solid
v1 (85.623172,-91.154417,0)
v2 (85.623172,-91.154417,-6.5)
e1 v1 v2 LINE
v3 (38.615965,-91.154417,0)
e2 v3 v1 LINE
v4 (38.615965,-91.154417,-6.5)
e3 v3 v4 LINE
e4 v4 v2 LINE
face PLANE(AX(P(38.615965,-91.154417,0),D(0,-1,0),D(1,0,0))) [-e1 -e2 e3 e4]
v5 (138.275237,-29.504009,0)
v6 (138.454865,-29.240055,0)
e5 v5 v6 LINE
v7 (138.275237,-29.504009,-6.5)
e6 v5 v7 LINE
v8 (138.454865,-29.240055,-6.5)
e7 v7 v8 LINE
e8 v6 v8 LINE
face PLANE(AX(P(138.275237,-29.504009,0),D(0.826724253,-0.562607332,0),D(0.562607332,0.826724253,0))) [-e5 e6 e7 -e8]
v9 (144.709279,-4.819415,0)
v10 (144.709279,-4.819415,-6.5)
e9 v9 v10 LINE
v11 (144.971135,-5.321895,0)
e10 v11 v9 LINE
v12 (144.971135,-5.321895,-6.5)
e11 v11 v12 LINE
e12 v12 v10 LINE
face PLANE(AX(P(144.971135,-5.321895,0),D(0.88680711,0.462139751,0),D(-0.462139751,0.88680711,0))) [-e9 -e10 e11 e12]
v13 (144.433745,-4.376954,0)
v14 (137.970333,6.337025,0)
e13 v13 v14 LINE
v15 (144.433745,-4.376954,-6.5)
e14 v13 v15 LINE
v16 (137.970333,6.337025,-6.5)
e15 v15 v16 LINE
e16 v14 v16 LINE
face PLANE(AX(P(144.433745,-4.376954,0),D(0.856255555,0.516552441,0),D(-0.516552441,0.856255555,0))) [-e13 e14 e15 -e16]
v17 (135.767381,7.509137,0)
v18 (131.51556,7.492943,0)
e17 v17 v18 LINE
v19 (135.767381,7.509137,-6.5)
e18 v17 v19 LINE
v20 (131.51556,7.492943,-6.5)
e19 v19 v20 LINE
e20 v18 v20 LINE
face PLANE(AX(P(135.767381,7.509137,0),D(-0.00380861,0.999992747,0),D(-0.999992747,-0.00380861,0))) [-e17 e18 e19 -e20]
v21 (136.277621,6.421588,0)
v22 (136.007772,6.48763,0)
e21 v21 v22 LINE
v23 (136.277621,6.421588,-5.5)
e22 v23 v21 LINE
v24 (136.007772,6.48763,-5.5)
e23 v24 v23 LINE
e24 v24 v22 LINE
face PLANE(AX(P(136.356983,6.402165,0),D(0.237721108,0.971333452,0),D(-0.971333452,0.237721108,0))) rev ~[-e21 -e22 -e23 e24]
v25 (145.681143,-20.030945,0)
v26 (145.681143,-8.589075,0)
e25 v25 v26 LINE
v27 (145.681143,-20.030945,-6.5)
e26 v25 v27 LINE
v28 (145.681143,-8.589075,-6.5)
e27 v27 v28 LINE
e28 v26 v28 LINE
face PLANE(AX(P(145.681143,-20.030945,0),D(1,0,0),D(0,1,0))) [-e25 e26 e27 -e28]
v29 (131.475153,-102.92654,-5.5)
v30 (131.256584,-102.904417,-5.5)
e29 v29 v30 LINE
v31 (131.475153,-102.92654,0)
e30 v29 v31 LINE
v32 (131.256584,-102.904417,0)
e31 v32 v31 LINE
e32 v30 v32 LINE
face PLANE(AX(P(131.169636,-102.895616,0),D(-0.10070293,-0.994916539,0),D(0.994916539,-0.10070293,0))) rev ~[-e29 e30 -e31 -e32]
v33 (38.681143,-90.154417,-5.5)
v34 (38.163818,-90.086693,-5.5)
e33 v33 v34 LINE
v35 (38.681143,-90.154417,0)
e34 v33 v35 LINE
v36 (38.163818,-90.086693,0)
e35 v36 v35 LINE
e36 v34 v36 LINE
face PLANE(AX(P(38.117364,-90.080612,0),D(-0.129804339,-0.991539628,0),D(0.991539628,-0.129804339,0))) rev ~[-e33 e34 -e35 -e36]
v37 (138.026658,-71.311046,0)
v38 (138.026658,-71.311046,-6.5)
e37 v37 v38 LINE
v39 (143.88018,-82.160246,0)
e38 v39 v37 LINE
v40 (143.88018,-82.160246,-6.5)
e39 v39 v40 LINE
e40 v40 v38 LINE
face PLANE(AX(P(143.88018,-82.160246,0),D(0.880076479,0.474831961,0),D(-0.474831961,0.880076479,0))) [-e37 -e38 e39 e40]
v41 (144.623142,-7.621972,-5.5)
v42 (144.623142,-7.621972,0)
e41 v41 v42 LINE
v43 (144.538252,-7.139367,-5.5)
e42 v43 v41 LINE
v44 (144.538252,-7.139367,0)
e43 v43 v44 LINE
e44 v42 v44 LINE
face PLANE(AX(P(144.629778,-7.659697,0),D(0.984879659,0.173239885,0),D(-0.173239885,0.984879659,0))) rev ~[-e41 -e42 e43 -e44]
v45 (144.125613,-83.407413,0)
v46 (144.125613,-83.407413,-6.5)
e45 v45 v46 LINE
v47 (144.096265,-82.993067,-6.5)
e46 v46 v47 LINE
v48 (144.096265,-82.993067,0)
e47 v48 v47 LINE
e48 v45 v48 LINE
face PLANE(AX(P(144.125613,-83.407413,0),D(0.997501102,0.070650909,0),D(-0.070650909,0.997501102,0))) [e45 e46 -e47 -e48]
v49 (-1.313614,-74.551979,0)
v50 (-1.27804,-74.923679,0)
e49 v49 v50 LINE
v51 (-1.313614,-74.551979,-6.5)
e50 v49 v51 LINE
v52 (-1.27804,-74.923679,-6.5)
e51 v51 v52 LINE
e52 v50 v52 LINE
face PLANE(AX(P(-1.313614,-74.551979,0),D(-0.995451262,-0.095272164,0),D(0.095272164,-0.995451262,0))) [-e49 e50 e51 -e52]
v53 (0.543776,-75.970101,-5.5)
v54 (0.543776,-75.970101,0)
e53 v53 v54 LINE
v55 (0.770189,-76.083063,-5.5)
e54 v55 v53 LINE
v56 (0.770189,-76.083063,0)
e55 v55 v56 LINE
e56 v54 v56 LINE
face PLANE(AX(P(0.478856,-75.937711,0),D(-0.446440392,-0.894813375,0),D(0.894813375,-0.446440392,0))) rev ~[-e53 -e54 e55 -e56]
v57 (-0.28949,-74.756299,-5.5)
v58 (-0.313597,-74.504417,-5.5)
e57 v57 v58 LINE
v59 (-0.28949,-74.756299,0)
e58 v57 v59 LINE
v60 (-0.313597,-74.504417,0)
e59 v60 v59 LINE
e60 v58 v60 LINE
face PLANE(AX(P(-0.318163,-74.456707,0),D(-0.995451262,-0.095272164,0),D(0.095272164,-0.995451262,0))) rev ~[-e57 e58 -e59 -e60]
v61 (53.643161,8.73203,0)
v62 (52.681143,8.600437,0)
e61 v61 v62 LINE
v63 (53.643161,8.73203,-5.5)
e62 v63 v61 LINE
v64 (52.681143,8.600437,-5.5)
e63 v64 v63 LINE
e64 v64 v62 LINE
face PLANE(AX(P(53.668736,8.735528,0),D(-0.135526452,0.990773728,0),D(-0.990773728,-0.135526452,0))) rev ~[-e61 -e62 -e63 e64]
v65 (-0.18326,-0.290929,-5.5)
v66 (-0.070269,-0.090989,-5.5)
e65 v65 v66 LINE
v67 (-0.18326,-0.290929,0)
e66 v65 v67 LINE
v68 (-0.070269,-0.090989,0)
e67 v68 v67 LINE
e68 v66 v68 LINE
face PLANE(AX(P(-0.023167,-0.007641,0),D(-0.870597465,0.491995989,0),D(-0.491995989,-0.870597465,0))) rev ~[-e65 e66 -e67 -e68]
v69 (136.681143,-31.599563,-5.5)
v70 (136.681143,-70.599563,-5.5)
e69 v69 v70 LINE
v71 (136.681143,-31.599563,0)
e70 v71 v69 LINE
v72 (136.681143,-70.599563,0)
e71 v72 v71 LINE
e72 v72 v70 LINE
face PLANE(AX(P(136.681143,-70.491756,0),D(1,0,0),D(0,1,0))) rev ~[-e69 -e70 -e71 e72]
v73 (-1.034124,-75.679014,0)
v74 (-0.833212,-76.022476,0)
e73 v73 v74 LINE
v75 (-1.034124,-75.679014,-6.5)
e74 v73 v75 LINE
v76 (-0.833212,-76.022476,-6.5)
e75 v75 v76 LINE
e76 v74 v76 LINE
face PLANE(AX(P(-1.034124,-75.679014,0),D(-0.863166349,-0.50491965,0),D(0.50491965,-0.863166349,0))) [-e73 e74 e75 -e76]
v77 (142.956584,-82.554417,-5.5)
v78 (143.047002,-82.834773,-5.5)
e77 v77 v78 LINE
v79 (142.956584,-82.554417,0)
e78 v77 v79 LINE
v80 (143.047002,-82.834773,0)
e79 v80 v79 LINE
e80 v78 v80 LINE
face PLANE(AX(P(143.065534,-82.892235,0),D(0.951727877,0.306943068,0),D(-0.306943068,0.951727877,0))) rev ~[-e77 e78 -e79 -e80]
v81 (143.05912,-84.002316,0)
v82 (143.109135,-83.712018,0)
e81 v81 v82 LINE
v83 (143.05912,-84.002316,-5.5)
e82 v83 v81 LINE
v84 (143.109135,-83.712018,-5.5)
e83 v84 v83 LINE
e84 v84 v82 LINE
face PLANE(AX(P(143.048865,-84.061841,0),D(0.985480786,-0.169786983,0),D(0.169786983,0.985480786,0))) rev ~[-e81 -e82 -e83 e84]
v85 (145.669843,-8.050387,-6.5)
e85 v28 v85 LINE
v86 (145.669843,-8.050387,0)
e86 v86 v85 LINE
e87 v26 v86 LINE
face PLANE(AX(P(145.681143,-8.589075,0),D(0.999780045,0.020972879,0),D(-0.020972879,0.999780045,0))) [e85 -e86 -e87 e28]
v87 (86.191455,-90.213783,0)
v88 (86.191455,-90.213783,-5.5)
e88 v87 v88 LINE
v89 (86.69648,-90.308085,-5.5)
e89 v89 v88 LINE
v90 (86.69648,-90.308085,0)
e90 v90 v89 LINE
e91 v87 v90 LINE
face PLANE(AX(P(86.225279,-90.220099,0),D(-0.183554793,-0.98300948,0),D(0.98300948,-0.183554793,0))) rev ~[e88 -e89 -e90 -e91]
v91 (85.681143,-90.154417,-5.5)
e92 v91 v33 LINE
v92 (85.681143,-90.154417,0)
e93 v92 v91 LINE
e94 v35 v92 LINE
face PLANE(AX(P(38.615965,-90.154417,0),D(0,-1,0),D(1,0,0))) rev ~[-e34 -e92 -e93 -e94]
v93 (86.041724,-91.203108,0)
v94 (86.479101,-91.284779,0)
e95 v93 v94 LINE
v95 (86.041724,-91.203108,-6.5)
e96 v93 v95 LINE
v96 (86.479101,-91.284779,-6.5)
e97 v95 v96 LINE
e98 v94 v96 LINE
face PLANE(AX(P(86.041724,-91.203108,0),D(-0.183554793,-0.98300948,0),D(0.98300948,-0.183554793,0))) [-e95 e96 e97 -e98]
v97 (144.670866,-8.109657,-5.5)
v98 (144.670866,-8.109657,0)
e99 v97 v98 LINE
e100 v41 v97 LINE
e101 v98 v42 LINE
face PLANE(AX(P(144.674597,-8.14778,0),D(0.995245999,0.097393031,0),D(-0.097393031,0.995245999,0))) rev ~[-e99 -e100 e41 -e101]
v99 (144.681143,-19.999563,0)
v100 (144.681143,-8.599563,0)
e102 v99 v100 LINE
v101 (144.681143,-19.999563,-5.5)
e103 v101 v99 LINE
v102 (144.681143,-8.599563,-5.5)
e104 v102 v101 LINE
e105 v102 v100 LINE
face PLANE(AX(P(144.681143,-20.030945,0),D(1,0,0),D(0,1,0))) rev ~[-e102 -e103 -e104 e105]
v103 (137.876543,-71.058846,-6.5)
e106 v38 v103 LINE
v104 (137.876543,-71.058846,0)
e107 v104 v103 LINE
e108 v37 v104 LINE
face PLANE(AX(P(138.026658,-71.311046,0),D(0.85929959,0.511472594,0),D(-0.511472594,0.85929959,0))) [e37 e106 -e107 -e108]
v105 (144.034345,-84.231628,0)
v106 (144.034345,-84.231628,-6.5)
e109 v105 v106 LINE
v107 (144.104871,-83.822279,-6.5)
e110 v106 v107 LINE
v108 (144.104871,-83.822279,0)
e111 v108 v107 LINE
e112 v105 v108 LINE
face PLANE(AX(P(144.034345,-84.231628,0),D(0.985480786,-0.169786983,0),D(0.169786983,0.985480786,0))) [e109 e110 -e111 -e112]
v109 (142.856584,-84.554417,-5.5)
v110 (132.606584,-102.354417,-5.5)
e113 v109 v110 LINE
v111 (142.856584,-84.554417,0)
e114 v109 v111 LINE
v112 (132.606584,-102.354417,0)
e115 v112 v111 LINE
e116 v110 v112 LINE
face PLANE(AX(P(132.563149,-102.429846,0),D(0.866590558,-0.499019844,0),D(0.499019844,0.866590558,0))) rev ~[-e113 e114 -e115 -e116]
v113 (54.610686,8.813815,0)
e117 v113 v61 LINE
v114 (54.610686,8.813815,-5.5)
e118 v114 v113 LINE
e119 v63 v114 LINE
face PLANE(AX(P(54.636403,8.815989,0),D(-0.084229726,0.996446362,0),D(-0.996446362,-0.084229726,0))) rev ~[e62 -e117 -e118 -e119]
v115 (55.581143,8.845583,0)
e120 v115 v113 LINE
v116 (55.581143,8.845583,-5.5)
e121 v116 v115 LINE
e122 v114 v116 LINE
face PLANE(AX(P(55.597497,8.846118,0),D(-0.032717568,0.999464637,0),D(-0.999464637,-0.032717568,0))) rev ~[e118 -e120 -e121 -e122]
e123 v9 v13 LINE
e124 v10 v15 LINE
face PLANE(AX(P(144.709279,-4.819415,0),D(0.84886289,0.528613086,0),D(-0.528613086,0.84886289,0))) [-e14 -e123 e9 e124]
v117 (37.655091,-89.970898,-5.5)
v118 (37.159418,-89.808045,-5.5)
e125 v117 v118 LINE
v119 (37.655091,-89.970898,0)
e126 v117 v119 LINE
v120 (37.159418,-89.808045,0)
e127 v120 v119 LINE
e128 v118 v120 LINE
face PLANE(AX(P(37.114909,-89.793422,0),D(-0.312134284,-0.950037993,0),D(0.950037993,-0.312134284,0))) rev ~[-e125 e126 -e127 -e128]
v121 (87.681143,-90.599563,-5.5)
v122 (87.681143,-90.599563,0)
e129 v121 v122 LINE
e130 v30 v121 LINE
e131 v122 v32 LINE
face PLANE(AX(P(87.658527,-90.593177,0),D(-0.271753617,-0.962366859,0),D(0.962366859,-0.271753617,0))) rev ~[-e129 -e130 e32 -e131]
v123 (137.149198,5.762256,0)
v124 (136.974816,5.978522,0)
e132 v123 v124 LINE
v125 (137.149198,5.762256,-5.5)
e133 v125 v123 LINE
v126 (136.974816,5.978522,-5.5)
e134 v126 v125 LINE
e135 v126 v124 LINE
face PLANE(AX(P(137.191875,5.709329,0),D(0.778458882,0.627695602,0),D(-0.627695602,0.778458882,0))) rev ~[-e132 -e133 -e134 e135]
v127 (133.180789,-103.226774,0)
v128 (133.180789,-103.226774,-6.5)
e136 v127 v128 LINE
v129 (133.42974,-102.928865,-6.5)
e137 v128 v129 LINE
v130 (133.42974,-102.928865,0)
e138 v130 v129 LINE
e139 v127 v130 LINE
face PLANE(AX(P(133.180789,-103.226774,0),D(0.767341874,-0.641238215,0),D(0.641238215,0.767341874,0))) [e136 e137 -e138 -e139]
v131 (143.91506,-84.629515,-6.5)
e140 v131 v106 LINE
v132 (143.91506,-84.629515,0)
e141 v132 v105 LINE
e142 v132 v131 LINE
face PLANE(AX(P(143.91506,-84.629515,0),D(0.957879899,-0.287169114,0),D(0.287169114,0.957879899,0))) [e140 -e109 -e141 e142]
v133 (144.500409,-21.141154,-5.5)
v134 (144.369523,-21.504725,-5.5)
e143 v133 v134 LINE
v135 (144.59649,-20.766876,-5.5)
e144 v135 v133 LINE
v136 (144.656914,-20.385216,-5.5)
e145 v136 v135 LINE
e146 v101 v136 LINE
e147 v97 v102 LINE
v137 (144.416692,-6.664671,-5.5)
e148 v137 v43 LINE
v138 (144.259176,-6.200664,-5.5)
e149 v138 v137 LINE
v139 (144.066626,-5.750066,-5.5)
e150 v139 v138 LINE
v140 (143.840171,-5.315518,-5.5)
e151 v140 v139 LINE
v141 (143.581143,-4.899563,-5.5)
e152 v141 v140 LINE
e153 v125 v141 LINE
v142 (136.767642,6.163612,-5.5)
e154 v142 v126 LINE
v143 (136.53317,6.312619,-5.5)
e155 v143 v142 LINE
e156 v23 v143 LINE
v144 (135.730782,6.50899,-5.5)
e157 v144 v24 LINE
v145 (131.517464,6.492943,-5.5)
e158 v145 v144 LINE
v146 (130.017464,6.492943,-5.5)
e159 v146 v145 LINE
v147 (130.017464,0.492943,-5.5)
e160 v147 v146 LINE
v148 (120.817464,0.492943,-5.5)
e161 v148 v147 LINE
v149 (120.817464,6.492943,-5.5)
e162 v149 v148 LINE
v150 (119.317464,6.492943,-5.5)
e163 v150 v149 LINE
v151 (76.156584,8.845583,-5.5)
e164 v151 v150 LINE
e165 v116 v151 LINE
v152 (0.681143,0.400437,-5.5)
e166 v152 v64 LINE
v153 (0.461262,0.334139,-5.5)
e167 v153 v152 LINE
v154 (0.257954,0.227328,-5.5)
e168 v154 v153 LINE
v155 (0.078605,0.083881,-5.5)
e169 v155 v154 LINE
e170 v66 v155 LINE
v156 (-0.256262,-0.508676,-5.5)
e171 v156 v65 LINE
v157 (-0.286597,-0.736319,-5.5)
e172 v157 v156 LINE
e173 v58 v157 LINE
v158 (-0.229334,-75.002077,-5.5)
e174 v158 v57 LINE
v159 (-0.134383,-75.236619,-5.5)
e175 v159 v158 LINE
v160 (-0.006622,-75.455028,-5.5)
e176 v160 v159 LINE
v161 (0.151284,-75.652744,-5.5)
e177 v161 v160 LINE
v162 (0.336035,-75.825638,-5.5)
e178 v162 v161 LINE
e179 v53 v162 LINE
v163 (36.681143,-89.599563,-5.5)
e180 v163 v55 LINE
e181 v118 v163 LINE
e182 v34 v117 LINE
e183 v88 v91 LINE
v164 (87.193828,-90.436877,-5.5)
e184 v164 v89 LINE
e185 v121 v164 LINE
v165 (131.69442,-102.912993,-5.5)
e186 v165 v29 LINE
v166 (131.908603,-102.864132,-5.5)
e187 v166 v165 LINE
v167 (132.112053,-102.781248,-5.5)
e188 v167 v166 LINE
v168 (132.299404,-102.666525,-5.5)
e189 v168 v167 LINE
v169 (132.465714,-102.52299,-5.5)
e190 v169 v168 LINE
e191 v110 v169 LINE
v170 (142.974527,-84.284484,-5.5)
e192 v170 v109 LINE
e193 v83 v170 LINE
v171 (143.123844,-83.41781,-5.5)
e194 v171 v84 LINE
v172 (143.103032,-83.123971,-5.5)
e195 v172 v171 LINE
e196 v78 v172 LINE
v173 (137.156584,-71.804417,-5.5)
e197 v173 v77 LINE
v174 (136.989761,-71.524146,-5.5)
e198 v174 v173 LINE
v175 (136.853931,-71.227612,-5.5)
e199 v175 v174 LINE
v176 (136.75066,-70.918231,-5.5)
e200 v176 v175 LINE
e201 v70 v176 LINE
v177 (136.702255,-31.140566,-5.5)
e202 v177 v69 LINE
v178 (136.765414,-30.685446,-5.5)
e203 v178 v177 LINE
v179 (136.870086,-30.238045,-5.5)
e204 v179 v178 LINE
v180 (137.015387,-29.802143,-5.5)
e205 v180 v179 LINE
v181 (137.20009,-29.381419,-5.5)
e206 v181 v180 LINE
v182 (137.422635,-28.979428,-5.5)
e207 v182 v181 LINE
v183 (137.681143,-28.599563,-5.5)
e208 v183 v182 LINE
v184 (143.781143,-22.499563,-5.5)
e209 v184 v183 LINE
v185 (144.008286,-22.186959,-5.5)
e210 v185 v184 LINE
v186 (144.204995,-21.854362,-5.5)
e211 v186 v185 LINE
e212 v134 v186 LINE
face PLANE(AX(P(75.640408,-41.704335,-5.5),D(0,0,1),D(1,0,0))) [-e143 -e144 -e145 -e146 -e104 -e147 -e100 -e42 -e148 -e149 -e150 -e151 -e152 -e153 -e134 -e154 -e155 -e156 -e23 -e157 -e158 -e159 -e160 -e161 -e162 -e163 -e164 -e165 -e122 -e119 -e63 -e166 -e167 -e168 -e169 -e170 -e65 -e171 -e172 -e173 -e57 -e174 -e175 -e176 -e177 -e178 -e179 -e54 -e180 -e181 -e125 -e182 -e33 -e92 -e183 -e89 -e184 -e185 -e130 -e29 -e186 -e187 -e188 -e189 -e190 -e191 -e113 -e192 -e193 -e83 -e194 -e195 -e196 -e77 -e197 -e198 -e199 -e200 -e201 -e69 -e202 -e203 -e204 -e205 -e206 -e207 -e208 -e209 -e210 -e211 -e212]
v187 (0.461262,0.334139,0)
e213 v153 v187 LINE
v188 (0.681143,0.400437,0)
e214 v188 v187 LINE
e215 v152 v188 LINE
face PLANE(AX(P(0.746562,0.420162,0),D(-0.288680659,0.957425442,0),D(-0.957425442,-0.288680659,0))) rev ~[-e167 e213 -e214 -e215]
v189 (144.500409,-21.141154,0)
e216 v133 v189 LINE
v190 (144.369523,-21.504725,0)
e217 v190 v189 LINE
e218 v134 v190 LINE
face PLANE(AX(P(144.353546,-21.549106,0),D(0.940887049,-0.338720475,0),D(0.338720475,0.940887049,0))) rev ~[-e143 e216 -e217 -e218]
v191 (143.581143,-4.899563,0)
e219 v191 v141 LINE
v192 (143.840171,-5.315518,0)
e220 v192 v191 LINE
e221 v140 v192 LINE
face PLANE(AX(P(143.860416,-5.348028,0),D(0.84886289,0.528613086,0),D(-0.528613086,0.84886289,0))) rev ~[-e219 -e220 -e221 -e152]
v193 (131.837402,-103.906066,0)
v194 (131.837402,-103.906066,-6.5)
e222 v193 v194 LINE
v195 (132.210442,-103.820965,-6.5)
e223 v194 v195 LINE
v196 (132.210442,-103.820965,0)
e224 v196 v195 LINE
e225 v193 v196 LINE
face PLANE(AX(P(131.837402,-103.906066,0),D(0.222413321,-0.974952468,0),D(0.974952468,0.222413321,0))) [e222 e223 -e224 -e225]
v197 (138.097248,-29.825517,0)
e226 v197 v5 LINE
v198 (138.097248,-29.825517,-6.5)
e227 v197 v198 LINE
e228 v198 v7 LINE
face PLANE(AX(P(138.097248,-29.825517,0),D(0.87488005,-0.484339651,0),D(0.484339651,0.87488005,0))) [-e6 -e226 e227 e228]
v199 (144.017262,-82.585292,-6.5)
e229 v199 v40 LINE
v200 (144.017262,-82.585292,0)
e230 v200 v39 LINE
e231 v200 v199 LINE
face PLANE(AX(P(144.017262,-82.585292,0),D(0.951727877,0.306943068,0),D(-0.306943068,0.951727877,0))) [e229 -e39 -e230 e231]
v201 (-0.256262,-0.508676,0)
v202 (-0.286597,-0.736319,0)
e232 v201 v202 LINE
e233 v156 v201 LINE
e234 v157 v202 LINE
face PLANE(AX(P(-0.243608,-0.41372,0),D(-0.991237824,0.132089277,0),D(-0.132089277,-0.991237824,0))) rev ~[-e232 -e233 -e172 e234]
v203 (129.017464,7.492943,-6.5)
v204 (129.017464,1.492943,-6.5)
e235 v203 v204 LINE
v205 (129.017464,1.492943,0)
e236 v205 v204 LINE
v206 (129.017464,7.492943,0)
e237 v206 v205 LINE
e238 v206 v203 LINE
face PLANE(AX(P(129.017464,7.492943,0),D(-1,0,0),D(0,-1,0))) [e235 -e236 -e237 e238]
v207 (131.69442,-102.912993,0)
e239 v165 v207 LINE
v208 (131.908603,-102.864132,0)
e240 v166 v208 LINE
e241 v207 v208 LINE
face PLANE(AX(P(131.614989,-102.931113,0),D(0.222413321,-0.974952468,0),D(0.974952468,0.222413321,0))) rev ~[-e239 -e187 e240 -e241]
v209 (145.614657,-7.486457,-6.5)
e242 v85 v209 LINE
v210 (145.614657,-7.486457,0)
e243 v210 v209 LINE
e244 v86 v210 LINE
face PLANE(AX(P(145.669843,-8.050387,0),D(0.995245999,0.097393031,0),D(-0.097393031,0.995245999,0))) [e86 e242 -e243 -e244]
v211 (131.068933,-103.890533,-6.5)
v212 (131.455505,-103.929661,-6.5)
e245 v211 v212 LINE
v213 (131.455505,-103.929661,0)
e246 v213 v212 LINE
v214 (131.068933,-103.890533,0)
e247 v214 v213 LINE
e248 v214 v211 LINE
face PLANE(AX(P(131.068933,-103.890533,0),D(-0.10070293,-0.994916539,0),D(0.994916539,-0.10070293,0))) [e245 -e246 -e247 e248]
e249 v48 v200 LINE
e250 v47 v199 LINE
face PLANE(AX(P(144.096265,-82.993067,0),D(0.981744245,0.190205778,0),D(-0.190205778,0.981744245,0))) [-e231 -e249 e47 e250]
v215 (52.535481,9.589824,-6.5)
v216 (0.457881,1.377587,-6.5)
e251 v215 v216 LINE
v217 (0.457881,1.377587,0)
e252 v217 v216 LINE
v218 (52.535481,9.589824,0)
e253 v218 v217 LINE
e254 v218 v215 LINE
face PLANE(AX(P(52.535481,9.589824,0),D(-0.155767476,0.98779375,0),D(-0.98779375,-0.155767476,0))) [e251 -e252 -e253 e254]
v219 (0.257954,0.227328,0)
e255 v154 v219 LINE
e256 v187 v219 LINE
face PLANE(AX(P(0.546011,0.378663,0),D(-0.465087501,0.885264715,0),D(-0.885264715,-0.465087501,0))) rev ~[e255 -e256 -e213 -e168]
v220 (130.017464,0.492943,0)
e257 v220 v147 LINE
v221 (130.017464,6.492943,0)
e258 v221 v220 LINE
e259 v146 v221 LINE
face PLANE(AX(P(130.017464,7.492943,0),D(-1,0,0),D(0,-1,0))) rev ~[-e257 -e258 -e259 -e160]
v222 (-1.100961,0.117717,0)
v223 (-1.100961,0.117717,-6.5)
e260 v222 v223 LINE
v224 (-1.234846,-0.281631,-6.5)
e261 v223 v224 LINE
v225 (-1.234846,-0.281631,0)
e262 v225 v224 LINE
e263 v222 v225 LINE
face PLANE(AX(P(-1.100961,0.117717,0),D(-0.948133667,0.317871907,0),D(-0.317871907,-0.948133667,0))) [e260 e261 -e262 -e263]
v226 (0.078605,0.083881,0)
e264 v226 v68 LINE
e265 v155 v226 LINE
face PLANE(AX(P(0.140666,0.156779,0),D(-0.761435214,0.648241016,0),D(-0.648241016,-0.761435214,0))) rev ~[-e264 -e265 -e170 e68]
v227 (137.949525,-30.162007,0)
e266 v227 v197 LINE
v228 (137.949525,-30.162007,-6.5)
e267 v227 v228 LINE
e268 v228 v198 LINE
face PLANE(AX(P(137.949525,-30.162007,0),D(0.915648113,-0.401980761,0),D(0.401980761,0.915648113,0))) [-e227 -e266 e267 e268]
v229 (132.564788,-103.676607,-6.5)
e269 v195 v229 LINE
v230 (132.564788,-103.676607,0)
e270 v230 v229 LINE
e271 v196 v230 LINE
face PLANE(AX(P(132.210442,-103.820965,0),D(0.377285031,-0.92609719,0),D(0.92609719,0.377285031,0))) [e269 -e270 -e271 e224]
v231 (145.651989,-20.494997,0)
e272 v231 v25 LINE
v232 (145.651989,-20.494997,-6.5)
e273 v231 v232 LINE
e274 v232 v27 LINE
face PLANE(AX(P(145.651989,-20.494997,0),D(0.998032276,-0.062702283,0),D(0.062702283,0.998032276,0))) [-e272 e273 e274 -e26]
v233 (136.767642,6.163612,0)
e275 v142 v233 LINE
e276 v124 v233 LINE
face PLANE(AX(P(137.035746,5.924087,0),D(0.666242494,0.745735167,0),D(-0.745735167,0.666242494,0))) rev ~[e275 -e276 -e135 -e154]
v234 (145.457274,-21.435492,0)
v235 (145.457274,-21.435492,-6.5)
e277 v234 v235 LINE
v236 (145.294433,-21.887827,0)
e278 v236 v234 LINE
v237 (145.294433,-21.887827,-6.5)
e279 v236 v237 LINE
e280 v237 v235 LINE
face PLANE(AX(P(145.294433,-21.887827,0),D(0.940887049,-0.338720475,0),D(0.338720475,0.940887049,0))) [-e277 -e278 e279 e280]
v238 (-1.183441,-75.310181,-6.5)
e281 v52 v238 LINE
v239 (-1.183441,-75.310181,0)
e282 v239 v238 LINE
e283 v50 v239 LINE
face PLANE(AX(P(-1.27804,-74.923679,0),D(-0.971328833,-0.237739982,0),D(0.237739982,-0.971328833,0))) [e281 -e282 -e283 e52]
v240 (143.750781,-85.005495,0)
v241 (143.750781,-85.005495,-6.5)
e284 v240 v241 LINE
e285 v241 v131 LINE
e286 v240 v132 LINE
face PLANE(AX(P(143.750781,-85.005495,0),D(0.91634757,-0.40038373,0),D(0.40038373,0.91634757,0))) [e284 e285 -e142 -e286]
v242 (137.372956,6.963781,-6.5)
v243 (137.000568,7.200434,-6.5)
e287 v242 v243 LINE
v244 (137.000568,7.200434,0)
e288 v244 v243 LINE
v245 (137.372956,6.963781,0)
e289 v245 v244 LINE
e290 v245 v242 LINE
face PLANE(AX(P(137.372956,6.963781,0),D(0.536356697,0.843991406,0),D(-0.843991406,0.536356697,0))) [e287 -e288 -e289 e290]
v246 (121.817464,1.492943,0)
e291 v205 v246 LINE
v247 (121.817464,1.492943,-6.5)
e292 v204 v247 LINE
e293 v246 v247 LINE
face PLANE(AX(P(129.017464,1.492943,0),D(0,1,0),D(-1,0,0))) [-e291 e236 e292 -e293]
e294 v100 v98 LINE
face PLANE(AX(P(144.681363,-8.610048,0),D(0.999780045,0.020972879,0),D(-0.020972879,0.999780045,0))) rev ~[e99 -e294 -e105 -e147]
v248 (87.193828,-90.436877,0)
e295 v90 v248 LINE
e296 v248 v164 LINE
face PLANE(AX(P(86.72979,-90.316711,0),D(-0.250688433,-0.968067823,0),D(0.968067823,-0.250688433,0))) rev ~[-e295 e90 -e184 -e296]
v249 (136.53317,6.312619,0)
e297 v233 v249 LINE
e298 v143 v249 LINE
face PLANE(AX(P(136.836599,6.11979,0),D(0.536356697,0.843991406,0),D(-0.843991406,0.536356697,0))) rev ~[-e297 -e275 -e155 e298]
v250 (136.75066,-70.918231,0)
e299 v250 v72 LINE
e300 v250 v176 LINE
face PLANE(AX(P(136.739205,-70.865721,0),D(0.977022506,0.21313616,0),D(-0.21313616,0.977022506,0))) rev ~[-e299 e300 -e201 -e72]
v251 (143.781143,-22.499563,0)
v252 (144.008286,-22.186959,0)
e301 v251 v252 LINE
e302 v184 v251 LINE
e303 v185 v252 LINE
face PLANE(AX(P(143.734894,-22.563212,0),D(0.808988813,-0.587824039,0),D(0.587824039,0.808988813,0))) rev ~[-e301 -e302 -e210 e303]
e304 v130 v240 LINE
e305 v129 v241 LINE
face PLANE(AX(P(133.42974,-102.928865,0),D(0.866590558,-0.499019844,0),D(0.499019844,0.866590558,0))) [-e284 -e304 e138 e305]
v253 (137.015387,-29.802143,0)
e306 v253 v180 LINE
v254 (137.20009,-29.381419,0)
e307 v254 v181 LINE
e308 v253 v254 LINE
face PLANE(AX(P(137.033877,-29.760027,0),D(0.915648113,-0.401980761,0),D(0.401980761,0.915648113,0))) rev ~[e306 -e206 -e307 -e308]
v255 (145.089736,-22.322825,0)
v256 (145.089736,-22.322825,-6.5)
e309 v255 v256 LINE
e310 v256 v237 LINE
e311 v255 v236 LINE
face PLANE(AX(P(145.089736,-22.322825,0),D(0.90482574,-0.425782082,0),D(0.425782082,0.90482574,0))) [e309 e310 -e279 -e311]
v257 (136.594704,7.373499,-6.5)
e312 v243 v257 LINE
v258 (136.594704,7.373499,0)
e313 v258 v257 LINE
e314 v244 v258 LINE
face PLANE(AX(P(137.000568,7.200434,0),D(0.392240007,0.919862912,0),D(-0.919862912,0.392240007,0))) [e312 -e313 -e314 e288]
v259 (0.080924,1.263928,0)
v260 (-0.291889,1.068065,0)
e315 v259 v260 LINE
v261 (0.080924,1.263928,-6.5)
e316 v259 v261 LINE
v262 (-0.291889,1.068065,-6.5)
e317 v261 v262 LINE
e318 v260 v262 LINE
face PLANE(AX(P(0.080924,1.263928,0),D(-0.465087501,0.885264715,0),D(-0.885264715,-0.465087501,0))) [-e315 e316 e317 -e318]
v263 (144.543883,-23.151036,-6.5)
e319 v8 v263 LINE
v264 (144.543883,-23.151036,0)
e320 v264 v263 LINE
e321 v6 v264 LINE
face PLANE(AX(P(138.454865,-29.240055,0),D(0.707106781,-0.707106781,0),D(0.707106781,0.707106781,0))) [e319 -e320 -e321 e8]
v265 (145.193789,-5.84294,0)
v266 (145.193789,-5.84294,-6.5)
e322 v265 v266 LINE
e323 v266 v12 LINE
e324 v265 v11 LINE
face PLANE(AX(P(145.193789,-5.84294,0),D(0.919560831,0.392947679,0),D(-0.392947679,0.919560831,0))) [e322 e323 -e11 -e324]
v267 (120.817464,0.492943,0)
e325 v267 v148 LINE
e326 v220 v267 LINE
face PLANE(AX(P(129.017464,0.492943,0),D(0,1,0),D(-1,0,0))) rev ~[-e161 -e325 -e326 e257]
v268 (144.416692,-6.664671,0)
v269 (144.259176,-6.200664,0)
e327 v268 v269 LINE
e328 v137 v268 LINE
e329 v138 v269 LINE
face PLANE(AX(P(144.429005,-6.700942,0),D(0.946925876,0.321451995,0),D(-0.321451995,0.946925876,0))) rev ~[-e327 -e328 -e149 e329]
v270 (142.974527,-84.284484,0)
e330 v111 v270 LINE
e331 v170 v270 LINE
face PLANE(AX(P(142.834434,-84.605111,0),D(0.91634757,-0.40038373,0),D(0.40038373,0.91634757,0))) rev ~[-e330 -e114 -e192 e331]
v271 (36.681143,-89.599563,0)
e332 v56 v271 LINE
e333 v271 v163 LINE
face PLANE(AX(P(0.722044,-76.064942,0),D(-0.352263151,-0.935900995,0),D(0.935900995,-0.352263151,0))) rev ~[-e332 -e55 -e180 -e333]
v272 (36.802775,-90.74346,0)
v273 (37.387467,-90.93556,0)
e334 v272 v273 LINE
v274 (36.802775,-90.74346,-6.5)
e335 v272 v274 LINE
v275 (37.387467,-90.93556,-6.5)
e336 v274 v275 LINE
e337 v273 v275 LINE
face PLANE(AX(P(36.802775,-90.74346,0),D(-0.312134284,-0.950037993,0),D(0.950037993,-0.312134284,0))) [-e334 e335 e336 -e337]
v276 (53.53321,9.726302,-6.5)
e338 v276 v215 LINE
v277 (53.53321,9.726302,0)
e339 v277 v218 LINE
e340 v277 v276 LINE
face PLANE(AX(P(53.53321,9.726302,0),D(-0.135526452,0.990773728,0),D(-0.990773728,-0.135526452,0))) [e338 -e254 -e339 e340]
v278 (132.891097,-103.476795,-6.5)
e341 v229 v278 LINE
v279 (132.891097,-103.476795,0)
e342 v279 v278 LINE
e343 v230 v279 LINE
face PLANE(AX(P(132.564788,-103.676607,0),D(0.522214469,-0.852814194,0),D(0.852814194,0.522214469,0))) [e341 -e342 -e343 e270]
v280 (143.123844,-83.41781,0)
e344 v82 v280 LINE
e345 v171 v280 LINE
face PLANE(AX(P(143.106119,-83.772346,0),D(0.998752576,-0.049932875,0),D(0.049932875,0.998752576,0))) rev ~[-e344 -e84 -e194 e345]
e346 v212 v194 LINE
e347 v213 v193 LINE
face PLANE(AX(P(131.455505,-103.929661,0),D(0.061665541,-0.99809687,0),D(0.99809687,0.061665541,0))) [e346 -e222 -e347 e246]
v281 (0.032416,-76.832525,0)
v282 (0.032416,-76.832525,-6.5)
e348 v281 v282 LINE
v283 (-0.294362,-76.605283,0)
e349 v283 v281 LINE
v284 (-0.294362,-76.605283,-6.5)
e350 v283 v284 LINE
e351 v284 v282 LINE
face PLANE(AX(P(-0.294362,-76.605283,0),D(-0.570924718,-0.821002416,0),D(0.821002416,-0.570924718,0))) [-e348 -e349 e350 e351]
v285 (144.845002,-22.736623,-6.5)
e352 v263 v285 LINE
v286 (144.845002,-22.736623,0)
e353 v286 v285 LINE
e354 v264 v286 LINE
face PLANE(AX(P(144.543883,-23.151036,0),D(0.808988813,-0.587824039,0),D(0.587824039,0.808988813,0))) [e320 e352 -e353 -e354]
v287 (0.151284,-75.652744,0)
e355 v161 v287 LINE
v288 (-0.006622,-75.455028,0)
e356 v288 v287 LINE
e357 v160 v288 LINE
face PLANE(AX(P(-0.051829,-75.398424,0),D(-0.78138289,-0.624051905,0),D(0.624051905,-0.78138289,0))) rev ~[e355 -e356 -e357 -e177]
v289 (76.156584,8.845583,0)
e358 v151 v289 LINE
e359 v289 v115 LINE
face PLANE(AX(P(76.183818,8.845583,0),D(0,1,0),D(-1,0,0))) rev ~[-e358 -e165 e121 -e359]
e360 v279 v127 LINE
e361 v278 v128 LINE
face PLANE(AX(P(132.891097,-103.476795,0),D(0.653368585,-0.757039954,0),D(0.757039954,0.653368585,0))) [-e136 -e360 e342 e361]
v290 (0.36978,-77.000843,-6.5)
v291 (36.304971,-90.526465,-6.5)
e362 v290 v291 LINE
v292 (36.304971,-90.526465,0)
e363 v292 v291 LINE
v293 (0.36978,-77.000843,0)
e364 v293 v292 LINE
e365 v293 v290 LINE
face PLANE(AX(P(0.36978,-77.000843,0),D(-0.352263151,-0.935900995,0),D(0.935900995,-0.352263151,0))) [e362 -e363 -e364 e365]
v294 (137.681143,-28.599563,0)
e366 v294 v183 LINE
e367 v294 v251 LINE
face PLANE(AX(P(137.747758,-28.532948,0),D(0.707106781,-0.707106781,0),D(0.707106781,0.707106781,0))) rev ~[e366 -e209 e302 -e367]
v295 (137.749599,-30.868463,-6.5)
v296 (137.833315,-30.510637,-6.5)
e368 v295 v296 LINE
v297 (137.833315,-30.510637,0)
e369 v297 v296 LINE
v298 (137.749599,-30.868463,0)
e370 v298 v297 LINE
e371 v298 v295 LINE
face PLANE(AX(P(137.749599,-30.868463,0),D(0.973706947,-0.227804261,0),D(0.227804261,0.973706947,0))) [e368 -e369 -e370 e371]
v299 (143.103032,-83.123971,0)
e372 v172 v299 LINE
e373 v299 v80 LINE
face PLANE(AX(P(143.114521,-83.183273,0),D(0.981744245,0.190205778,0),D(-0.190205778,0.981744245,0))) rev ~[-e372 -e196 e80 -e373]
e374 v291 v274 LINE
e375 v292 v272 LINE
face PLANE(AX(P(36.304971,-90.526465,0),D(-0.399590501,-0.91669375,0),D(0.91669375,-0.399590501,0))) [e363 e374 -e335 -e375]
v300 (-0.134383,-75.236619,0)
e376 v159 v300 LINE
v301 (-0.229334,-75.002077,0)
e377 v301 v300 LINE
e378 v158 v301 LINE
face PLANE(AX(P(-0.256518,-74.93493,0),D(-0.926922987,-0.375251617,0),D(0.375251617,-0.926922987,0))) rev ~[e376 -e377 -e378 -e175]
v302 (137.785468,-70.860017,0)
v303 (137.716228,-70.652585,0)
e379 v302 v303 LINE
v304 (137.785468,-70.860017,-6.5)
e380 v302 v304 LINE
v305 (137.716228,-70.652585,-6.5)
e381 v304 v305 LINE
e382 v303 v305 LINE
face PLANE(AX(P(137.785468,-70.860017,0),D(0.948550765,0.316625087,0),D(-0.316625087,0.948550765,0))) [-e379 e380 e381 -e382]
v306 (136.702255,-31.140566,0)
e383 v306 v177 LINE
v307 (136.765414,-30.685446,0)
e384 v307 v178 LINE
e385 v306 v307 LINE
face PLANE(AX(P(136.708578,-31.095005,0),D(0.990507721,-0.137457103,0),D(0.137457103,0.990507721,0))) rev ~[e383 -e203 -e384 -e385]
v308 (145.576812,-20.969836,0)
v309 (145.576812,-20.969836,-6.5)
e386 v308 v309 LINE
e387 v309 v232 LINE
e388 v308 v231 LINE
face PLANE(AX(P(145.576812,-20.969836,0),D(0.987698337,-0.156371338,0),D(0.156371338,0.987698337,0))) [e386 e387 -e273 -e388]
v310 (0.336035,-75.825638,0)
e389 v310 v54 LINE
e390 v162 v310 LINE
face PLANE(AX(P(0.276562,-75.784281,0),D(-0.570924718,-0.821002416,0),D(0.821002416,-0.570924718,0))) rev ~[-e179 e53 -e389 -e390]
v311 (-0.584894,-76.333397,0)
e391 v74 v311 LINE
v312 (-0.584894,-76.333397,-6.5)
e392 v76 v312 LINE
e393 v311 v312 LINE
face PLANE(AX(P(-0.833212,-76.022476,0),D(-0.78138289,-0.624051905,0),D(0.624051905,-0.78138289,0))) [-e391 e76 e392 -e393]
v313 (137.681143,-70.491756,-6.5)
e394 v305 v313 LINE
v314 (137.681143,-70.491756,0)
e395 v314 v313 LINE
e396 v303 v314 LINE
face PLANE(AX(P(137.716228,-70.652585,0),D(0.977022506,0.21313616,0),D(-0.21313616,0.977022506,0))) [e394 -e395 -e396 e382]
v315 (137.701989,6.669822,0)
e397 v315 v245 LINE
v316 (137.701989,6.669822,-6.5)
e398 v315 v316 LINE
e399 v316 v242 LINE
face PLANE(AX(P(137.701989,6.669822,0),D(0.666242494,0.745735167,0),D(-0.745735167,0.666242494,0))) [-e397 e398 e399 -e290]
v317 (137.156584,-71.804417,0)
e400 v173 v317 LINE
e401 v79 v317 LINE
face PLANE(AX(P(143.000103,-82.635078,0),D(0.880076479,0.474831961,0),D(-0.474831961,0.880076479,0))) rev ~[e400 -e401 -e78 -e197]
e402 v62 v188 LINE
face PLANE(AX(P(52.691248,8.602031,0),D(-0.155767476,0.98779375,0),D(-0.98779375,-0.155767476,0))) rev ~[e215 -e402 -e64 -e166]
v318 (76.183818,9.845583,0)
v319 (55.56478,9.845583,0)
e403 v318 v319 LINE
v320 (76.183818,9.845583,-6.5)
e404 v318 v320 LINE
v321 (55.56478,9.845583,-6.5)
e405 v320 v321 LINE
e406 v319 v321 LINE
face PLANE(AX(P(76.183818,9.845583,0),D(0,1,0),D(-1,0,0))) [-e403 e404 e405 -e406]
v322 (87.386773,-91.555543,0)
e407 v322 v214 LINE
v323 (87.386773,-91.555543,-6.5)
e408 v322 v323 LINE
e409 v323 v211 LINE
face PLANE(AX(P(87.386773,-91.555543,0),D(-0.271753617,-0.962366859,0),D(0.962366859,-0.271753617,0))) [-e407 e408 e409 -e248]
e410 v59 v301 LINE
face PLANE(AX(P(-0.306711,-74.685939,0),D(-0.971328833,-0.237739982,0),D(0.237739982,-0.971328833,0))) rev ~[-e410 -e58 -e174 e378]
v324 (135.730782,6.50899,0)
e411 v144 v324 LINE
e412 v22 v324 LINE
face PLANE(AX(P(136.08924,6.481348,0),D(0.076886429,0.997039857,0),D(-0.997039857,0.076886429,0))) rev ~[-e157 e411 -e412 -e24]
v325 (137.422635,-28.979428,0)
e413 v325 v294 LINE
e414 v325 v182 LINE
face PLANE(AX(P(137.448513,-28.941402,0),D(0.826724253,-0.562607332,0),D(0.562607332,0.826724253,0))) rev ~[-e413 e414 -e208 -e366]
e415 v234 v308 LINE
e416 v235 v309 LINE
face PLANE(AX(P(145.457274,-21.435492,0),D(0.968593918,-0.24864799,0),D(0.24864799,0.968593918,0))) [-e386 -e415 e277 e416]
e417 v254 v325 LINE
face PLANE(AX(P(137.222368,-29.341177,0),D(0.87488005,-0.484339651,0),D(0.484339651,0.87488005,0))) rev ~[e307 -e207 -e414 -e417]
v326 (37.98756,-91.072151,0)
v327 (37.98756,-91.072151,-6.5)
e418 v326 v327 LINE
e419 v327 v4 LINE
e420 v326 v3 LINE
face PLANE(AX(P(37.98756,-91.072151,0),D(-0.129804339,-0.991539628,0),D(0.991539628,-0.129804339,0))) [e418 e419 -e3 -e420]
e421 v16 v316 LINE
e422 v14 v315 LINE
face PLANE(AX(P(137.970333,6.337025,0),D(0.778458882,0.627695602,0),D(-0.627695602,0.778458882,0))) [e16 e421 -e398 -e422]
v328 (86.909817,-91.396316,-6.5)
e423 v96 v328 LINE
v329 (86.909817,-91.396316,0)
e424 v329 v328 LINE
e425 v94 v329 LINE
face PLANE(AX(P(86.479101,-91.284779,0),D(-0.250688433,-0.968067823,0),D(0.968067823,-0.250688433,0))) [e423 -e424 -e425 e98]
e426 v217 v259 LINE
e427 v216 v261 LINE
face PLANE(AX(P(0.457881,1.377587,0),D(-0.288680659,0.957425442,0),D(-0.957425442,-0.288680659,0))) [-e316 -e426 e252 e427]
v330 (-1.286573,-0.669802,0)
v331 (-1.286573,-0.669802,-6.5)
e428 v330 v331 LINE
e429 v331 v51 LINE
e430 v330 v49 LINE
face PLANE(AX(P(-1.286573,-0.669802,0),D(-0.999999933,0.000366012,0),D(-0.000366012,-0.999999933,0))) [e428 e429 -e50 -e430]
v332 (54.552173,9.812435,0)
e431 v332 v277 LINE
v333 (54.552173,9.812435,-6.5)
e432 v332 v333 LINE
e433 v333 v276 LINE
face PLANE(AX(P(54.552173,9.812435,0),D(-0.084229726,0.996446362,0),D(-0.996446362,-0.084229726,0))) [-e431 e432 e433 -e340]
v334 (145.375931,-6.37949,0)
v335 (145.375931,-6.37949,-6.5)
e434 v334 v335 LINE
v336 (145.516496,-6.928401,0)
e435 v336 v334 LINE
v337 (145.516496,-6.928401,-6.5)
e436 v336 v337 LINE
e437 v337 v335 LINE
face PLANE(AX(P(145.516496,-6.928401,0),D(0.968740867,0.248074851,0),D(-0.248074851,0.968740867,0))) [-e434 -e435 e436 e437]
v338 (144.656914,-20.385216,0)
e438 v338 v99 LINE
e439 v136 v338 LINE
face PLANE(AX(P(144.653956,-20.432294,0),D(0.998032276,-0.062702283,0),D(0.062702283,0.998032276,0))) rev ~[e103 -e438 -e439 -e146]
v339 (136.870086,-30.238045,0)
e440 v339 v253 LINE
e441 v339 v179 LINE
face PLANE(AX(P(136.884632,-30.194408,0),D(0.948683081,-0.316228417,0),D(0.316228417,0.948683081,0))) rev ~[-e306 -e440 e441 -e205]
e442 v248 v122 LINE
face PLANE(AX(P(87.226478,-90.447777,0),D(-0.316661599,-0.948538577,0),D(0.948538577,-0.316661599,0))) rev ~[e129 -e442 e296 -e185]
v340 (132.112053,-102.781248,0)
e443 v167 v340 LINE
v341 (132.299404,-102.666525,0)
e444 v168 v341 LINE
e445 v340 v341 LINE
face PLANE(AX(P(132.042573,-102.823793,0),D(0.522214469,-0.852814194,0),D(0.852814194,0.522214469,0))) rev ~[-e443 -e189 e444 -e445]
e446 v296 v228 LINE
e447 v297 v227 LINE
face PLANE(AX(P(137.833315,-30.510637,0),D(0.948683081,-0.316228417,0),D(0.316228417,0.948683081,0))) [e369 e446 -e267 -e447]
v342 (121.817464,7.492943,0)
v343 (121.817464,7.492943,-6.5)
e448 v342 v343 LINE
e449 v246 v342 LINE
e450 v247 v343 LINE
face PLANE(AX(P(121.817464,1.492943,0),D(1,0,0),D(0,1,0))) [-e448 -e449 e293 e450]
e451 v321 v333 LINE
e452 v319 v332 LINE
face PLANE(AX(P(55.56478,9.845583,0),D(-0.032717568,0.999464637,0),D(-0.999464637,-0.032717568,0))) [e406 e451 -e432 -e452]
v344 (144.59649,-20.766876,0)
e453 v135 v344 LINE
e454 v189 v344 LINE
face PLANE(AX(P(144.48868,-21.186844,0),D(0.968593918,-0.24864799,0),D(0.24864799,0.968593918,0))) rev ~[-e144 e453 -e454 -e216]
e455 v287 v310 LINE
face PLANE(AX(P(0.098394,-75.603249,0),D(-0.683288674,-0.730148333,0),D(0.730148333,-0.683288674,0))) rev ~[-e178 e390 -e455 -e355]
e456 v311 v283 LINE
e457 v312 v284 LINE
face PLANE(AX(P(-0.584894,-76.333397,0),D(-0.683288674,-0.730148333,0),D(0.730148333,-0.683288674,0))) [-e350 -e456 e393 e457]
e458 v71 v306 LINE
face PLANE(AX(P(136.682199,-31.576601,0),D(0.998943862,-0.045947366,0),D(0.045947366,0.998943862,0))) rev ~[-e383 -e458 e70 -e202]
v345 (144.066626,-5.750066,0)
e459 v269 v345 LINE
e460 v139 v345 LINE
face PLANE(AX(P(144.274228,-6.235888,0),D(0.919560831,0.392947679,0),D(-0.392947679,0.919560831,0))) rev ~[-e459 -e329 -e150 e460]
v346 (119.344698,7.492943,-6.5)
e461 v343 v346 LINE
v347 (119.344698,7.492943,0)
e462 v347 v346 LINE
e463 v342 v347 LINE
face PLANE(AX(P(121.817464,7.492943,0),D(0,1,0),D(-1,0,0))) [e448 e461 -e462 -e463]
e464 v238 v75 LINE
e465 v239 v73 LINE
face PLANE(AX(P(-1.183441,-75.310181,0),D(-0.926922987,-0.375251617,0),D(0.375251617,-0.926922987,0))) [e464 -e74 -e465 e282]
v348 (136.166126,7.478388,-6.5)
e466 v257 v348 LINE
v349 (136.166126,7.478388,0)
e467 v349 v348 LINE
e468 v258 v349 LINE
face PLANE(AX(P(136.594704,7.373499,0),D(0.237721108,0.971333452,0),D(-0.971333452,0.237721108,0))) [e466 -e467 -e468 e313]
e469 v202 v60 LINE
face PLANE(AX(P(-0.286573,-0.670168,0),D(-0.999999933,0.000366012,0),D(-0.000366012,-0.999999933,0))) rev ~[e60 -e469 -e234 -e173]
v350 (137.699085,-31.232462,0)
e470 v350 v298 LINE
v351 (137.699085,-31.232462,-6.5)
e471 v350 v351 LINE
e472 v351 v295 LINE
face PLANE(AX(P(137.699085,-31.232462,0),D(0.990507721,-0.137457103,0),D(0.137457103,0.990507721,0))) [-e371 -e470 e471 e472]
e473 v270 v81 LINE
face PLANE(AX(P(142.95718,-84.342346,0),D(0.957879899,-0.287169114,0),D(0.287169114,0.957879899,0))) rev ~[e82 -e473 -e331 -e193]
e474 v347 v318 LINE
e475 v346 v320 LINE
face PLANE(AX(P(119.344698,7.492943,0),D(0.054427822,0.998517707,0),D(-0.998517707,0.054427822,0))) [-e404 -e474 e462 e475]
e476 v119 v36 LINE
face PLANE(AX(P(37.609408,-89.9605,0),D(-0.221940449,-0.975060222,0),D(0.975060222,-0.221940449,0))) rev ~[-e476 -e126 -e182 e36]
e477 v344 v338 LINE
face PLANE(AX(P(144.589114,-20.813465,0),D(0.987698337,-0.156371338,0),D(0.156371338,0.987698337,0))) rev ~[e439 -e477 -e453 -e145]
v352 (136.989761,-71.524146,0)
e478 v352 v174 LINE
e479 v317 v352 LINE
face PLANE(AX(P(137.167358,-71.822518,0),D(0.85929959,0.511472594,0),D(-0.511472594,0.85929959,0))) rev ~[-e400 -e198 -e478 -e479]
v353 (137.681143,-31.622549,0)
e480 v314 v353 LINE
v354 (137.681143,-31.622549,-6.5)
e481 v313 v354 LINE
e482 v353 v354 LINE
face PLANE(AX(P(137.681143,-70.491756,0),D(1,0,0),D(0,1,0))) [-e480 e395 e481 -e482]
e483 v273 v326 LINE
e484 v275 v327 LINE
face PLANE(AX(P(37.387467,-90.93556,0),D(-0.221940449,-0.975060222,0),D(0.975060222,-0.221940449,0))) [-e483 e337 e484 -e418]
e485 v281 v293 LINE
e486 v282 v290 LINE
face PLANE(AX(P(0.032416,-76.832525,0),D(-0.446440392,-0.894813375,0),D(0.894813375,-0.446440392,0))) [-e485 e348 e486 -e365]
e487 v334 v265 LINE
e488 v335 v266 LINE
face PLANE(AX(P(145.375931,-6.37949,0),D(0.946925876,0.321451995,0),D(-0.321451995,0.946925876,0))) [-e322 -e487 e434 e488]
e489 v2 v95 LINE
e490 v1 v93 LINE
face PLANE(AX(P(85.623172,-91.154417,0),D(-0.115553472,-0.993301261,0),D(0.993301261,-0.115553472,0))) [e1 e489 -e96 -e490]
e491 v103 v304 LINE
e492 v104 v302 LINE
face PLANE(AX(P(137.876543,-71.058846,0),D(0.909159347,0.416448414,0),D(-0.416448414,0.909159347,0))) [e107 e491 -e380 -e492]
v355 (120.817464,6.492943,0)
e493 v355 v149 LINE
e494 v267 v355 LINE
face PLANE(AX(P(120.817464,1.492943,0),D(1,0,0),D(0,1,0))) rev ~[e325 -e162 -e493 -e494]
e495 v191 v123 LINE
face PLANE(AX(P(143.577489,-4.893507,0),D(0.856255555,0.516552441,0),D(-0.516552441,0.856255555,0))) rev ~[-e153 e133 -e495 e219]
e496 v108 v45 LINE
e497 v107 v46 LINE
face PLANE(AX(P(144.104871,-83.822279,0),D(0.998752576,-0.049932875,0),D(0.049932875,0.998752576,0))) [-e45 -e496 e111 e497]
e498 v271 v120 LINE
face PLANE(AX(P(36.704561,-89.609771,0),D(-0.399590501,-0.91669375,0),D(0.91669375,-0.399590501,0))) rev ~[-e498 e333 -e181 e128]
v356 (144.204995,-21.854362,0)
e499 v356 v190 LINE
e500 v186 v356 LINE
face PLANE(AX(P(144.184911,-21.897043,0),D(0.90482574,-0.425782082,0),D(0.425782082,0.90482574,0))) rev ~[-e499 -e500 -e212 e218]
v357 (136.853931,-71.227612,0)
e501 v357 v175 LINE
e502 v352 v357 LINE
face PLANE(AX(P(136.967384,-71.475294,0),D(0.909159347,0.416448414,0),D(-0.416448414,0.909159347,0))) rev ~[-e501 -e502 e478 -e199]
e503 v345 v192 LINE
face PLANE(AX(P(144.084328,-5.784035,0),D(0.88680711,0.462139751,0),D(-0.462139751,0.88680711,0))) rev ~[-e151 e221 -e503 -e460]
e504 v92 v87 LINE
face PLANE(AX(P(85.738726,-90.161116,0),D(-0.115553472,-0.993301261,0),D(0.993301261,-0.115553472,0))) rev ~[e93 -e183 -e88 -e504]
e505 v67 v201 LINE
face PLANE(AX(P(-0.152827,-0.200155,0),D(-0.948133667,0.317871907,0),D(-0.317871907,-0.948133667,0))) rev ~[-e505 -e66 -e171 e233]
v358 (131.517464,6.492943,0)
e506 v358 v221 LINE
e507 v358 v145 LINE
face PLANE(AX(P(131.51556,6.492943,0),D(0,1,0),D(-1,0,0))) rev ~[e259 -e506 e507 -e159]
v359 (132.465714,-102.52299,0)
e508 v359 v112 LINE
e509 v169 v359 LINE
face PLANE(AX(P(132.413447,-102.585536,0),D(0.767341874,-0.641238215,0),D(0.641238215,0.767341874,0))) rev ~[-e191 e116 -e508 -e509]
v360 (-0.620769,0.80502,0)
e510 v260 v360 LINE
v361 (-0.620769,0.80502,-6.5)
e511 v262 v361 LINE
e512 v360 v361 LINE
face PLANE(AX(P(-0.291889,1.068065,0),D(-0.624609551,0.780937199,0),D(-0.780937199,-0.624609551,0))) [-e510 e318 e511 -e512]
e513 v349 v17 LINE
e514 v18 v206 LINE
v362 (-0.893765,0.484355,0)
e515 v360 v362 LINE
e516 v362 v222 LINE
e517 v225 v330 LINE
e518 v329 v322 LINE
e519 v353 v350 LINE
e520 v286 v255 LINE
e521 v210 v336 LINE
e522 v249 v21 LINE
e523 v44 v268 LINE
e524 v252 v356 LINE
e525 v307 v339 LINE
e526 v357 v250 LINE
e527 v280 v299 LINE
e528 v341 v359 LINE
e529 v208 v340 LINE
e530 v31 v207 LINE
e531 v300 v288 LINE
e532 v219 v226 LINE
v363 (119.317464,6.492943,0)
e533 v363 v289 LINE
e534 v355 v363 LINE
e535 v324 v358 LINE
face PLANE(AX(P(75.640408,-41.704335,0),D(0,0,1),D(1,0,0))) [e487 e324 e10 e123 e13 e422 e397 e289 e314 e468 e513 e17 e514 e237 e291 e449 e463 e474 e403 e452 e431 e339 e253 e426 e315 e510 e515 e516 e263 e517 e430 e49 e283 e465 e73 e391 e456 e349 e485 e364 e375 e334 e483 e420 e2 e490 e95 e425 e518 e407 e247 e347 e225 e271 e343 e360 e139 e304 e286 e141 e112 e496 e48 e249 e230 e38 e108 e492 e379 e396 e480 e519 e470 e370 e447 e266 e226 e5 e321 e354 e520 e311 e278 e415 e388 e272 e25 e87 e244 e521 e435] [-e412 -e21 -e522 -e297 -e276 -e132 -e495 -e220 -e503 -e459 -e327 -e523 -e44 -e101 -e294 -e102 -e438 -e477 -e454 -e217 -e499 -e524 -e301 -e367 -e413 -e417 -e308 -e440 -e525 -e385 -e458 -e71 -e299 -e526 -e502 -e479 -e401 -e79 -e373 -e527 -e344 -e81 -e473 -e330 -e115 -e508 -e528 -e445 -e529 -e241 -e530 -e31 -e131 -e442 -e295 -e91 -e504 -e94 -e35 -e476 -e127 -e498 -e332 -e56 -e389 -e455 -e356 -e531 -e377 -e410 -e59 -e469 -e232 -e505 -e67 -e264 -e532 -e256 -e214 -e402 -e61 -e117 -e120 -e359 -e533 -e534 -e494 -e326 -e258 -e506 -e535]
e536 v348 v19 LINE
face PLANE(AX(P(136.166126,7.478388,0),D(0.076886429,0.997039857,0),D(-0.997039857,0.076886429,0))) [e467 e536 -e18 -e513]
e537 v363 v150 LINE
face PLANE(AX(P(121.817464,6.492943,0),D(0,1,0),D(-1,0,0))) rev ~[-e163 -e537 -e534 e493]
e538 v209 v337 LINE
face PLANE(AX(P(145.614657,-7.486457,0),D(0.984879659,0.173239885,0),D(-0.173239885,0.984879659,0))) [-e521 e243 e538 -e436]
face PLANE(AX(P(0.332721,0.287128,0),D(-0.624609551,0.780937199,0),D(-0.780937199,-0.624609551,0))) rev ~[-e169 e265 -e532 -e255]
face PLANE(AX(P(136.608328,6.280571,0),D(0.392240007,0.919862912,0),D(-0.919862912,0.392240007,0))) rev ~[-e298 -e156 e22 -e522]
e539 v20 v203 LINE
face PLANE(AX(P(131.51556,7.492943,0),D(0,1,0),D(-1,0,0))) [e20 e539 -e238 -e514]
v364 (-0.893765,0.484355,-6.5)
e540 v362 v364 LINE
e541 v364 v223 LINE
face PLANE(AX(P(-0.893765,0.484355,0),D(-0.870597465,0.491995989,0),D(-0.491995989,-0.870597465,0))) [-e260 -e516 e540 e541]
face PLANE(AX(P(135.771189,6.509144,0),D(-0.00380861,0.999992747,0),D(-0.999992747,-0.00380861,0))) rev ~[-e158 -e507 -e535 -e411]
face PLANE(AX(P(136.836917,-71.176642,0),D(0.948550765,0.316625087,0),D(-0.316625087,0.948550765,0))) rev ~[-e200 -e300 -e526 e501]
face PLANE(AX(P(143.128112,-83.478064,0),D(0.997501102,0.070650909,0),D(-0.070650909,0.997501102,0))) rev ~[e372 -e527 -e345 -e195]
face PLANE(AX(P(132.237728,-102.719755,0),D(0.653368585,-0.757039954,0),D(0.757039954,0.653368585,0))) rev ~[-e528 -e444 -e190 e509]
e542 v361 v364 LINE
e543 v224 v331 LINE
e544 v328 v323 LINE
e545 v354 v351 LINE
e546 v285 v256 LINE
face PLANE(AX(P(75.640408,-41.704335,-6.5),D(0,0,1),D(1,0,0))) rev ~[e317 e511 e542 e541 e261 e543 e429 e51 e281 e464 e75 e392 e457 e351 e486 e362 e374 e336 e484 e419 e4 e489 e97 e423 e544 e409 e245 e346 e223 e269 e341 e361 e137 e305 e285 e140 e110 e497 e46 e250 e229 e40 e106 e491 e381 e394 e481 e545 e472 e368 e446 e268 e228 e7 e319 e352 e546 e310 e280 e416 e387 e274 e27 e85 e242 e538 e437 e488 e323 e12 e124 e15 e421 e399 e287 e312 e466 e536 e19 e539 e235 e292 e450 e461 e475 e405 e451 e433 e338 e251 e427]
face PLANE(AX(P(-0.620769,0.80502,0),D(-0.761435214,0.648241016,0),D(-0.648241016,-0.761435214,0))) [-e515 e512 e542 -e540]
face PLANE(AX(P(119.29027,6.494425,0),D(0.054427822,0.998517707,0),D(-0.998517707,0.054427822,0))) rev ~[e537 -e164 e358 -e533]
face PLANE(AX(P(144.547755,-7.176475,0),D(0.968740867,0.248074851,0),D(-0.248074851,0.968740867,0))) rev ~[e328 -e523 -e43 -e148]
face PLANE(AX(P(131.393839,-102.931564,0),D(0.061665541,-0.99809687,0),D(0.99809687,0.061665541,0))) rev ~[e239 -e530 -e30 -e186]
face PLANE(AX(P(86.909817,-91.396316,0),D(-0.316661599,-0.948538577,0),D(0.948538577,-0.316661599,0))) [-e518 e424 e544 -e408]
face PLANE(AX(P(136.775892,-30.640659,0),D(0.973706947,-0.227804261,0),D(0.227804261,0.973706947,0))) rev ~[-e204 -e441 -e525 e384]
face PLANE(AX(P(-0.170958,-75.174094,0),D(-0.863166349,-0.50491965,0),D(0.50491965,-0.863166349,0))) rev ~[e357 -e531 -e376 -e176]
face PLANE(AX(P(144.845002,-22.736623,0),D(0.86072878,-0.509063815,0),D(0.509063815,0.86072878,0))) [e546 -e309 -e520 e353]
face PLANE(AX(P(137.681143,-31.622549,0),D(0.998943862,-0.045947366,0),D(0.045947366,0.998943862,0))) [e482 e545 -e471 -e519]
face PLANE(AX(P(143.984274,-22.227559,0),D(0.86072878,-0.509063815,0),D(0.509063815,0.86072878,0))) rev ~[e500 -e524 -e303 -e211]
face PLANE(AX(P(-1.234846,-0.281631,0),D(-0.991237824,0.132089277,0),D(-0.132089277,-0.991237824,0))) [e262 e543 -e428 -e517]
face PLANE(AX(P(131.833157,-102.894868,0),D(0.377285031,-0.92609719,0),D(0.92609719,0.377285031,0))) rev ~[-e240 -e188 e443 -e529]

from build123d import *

# Parameters (mm, degrees)
BOSS_EXTRU_1_DEPTH = 6.5
COQUE1_T           = -1


with BuildPart() as part:
    # Esquisse1 → Boss.-Extru.1 (new body)
    with BuildSketch(Plane.XY):
        Polygon((121.817464, 7.492943), (119.344698096, 7.492943), (76.183818096, 9.845583), (55.564779836, 9.845583), (54.552173404, 9.812435234), (53.533209696, 9.726302114), (52.535480793, 9.589824274), (0.457881428, 1.377587451), (0.080923827, 1.263928085), (-0.29188868, 1.068065272), (-0.62076937, 0.805019767), (-0.893764513, 0.484354906), (-1.100960827, 0.11771658), (-1.234846295, -0.281630821), (-1.286572721, -0.669801542), (-1.313614475, -74.551979081), (-1.278040024, -74.923678753), (-1.183440664, -75.310181205), (-1.034124026, -75.679013791), (-0.83321163, -76.022476002), (-0.584894436, -76.333396945), (-0.29436239, -76.605283146), (0.032415912, -76.832524633), (0.369780396, -77.00084256), (36.304970835, -90.526464897), (36.80277452, -90.74345953), (37.387467468, -90.935559968), (37.987559572, -91.072151235), (38.615965116, -91.154417), (85.623172099, -91.154417), (86.041723807, -91.203108273), (86.479101326, -91.284778635), (86.909816867, -91.396315659), (87.386772904, -91.555543407), (131.068933438, -103.89053292), (131.455504757, -103.929660689), (131.837402239, -103.90606587), (132.210442209, -103.820965251), (132.564787964, -103.676607455), (132.89109687, -103.476794608), (133.180788715, -103.226774051), (133.429739598, -102.92886536), (143.750781449, -85.005495121), (143.915060156, -84.629514823), (144.034345378, -84.231627617), (144.104871469, -83.822278759), (144.125612773, -83.407413185), (144.096265486, -82.993066766), (144.017262186, -82.585292428), (143.880179871, -82.160245981), (138.026657959, -71.311045886), (137.876543424, -71.058845944), (137.78546804, -70.860016908), (137.716227615, -70.652585277), (137.681143, -70.491756357), (137.681143, -31.622548821), (137.6990854, -31.232462255), (137.749599164, -30.868463071), (137.833314637, -30.510636851), (137.949524742, -30.162007333), (138.097248212, -29.82551681), (138.275237168, -29.504008987), (138.454865034, -29.240054529), (144.543883236, -23.151036326), (144.845002348, -22.736623208), (145.089736472, -22.322824981), (145.294432727, -21.887826778), (145.457273896, -21.435491716), (145.576812433, -20.969836233), (145.651988542, -20.494996542), (145.681143, -20.030945018), (145.681143, -8.589075407), (145.669842672, -8.050387206), (145.61465745, -7.486457006), (145.516495569, -6.928400528), (145.37593068, -6.379489779), (145.193788673, -5.842940054), (144.971135156, -5.321894978), (144.70927891, -4.819414981), (144.433744876, -4.376954091), (137.970333494, 6.337024694), (137.701988909, 6.669821714), (137.372955521, 6.963781332), (137.000567914, 7.200433726), (136.594704241, 7.373498612), (136.166125996, 7.47838751), (135.767380568, 7.509136644), (131.515559688, 7.492943), (129.017464, 7.492943), (129.017464, 1.492943), (121.817464, 1.492943), align=None)
    extrude(amount=-BOSS_EXTRU_1_DEPTH)

    # Coque1
    coque1_openings = [part.faces().sort_by_distance(p)[0] for p in [
        (72.557857735, -42.2287033, 0),
    ]]
    offset(amount=COQUE1_T, openings=coque1_openings, kind=Kind.INTERSECTION)


solid = part.part
